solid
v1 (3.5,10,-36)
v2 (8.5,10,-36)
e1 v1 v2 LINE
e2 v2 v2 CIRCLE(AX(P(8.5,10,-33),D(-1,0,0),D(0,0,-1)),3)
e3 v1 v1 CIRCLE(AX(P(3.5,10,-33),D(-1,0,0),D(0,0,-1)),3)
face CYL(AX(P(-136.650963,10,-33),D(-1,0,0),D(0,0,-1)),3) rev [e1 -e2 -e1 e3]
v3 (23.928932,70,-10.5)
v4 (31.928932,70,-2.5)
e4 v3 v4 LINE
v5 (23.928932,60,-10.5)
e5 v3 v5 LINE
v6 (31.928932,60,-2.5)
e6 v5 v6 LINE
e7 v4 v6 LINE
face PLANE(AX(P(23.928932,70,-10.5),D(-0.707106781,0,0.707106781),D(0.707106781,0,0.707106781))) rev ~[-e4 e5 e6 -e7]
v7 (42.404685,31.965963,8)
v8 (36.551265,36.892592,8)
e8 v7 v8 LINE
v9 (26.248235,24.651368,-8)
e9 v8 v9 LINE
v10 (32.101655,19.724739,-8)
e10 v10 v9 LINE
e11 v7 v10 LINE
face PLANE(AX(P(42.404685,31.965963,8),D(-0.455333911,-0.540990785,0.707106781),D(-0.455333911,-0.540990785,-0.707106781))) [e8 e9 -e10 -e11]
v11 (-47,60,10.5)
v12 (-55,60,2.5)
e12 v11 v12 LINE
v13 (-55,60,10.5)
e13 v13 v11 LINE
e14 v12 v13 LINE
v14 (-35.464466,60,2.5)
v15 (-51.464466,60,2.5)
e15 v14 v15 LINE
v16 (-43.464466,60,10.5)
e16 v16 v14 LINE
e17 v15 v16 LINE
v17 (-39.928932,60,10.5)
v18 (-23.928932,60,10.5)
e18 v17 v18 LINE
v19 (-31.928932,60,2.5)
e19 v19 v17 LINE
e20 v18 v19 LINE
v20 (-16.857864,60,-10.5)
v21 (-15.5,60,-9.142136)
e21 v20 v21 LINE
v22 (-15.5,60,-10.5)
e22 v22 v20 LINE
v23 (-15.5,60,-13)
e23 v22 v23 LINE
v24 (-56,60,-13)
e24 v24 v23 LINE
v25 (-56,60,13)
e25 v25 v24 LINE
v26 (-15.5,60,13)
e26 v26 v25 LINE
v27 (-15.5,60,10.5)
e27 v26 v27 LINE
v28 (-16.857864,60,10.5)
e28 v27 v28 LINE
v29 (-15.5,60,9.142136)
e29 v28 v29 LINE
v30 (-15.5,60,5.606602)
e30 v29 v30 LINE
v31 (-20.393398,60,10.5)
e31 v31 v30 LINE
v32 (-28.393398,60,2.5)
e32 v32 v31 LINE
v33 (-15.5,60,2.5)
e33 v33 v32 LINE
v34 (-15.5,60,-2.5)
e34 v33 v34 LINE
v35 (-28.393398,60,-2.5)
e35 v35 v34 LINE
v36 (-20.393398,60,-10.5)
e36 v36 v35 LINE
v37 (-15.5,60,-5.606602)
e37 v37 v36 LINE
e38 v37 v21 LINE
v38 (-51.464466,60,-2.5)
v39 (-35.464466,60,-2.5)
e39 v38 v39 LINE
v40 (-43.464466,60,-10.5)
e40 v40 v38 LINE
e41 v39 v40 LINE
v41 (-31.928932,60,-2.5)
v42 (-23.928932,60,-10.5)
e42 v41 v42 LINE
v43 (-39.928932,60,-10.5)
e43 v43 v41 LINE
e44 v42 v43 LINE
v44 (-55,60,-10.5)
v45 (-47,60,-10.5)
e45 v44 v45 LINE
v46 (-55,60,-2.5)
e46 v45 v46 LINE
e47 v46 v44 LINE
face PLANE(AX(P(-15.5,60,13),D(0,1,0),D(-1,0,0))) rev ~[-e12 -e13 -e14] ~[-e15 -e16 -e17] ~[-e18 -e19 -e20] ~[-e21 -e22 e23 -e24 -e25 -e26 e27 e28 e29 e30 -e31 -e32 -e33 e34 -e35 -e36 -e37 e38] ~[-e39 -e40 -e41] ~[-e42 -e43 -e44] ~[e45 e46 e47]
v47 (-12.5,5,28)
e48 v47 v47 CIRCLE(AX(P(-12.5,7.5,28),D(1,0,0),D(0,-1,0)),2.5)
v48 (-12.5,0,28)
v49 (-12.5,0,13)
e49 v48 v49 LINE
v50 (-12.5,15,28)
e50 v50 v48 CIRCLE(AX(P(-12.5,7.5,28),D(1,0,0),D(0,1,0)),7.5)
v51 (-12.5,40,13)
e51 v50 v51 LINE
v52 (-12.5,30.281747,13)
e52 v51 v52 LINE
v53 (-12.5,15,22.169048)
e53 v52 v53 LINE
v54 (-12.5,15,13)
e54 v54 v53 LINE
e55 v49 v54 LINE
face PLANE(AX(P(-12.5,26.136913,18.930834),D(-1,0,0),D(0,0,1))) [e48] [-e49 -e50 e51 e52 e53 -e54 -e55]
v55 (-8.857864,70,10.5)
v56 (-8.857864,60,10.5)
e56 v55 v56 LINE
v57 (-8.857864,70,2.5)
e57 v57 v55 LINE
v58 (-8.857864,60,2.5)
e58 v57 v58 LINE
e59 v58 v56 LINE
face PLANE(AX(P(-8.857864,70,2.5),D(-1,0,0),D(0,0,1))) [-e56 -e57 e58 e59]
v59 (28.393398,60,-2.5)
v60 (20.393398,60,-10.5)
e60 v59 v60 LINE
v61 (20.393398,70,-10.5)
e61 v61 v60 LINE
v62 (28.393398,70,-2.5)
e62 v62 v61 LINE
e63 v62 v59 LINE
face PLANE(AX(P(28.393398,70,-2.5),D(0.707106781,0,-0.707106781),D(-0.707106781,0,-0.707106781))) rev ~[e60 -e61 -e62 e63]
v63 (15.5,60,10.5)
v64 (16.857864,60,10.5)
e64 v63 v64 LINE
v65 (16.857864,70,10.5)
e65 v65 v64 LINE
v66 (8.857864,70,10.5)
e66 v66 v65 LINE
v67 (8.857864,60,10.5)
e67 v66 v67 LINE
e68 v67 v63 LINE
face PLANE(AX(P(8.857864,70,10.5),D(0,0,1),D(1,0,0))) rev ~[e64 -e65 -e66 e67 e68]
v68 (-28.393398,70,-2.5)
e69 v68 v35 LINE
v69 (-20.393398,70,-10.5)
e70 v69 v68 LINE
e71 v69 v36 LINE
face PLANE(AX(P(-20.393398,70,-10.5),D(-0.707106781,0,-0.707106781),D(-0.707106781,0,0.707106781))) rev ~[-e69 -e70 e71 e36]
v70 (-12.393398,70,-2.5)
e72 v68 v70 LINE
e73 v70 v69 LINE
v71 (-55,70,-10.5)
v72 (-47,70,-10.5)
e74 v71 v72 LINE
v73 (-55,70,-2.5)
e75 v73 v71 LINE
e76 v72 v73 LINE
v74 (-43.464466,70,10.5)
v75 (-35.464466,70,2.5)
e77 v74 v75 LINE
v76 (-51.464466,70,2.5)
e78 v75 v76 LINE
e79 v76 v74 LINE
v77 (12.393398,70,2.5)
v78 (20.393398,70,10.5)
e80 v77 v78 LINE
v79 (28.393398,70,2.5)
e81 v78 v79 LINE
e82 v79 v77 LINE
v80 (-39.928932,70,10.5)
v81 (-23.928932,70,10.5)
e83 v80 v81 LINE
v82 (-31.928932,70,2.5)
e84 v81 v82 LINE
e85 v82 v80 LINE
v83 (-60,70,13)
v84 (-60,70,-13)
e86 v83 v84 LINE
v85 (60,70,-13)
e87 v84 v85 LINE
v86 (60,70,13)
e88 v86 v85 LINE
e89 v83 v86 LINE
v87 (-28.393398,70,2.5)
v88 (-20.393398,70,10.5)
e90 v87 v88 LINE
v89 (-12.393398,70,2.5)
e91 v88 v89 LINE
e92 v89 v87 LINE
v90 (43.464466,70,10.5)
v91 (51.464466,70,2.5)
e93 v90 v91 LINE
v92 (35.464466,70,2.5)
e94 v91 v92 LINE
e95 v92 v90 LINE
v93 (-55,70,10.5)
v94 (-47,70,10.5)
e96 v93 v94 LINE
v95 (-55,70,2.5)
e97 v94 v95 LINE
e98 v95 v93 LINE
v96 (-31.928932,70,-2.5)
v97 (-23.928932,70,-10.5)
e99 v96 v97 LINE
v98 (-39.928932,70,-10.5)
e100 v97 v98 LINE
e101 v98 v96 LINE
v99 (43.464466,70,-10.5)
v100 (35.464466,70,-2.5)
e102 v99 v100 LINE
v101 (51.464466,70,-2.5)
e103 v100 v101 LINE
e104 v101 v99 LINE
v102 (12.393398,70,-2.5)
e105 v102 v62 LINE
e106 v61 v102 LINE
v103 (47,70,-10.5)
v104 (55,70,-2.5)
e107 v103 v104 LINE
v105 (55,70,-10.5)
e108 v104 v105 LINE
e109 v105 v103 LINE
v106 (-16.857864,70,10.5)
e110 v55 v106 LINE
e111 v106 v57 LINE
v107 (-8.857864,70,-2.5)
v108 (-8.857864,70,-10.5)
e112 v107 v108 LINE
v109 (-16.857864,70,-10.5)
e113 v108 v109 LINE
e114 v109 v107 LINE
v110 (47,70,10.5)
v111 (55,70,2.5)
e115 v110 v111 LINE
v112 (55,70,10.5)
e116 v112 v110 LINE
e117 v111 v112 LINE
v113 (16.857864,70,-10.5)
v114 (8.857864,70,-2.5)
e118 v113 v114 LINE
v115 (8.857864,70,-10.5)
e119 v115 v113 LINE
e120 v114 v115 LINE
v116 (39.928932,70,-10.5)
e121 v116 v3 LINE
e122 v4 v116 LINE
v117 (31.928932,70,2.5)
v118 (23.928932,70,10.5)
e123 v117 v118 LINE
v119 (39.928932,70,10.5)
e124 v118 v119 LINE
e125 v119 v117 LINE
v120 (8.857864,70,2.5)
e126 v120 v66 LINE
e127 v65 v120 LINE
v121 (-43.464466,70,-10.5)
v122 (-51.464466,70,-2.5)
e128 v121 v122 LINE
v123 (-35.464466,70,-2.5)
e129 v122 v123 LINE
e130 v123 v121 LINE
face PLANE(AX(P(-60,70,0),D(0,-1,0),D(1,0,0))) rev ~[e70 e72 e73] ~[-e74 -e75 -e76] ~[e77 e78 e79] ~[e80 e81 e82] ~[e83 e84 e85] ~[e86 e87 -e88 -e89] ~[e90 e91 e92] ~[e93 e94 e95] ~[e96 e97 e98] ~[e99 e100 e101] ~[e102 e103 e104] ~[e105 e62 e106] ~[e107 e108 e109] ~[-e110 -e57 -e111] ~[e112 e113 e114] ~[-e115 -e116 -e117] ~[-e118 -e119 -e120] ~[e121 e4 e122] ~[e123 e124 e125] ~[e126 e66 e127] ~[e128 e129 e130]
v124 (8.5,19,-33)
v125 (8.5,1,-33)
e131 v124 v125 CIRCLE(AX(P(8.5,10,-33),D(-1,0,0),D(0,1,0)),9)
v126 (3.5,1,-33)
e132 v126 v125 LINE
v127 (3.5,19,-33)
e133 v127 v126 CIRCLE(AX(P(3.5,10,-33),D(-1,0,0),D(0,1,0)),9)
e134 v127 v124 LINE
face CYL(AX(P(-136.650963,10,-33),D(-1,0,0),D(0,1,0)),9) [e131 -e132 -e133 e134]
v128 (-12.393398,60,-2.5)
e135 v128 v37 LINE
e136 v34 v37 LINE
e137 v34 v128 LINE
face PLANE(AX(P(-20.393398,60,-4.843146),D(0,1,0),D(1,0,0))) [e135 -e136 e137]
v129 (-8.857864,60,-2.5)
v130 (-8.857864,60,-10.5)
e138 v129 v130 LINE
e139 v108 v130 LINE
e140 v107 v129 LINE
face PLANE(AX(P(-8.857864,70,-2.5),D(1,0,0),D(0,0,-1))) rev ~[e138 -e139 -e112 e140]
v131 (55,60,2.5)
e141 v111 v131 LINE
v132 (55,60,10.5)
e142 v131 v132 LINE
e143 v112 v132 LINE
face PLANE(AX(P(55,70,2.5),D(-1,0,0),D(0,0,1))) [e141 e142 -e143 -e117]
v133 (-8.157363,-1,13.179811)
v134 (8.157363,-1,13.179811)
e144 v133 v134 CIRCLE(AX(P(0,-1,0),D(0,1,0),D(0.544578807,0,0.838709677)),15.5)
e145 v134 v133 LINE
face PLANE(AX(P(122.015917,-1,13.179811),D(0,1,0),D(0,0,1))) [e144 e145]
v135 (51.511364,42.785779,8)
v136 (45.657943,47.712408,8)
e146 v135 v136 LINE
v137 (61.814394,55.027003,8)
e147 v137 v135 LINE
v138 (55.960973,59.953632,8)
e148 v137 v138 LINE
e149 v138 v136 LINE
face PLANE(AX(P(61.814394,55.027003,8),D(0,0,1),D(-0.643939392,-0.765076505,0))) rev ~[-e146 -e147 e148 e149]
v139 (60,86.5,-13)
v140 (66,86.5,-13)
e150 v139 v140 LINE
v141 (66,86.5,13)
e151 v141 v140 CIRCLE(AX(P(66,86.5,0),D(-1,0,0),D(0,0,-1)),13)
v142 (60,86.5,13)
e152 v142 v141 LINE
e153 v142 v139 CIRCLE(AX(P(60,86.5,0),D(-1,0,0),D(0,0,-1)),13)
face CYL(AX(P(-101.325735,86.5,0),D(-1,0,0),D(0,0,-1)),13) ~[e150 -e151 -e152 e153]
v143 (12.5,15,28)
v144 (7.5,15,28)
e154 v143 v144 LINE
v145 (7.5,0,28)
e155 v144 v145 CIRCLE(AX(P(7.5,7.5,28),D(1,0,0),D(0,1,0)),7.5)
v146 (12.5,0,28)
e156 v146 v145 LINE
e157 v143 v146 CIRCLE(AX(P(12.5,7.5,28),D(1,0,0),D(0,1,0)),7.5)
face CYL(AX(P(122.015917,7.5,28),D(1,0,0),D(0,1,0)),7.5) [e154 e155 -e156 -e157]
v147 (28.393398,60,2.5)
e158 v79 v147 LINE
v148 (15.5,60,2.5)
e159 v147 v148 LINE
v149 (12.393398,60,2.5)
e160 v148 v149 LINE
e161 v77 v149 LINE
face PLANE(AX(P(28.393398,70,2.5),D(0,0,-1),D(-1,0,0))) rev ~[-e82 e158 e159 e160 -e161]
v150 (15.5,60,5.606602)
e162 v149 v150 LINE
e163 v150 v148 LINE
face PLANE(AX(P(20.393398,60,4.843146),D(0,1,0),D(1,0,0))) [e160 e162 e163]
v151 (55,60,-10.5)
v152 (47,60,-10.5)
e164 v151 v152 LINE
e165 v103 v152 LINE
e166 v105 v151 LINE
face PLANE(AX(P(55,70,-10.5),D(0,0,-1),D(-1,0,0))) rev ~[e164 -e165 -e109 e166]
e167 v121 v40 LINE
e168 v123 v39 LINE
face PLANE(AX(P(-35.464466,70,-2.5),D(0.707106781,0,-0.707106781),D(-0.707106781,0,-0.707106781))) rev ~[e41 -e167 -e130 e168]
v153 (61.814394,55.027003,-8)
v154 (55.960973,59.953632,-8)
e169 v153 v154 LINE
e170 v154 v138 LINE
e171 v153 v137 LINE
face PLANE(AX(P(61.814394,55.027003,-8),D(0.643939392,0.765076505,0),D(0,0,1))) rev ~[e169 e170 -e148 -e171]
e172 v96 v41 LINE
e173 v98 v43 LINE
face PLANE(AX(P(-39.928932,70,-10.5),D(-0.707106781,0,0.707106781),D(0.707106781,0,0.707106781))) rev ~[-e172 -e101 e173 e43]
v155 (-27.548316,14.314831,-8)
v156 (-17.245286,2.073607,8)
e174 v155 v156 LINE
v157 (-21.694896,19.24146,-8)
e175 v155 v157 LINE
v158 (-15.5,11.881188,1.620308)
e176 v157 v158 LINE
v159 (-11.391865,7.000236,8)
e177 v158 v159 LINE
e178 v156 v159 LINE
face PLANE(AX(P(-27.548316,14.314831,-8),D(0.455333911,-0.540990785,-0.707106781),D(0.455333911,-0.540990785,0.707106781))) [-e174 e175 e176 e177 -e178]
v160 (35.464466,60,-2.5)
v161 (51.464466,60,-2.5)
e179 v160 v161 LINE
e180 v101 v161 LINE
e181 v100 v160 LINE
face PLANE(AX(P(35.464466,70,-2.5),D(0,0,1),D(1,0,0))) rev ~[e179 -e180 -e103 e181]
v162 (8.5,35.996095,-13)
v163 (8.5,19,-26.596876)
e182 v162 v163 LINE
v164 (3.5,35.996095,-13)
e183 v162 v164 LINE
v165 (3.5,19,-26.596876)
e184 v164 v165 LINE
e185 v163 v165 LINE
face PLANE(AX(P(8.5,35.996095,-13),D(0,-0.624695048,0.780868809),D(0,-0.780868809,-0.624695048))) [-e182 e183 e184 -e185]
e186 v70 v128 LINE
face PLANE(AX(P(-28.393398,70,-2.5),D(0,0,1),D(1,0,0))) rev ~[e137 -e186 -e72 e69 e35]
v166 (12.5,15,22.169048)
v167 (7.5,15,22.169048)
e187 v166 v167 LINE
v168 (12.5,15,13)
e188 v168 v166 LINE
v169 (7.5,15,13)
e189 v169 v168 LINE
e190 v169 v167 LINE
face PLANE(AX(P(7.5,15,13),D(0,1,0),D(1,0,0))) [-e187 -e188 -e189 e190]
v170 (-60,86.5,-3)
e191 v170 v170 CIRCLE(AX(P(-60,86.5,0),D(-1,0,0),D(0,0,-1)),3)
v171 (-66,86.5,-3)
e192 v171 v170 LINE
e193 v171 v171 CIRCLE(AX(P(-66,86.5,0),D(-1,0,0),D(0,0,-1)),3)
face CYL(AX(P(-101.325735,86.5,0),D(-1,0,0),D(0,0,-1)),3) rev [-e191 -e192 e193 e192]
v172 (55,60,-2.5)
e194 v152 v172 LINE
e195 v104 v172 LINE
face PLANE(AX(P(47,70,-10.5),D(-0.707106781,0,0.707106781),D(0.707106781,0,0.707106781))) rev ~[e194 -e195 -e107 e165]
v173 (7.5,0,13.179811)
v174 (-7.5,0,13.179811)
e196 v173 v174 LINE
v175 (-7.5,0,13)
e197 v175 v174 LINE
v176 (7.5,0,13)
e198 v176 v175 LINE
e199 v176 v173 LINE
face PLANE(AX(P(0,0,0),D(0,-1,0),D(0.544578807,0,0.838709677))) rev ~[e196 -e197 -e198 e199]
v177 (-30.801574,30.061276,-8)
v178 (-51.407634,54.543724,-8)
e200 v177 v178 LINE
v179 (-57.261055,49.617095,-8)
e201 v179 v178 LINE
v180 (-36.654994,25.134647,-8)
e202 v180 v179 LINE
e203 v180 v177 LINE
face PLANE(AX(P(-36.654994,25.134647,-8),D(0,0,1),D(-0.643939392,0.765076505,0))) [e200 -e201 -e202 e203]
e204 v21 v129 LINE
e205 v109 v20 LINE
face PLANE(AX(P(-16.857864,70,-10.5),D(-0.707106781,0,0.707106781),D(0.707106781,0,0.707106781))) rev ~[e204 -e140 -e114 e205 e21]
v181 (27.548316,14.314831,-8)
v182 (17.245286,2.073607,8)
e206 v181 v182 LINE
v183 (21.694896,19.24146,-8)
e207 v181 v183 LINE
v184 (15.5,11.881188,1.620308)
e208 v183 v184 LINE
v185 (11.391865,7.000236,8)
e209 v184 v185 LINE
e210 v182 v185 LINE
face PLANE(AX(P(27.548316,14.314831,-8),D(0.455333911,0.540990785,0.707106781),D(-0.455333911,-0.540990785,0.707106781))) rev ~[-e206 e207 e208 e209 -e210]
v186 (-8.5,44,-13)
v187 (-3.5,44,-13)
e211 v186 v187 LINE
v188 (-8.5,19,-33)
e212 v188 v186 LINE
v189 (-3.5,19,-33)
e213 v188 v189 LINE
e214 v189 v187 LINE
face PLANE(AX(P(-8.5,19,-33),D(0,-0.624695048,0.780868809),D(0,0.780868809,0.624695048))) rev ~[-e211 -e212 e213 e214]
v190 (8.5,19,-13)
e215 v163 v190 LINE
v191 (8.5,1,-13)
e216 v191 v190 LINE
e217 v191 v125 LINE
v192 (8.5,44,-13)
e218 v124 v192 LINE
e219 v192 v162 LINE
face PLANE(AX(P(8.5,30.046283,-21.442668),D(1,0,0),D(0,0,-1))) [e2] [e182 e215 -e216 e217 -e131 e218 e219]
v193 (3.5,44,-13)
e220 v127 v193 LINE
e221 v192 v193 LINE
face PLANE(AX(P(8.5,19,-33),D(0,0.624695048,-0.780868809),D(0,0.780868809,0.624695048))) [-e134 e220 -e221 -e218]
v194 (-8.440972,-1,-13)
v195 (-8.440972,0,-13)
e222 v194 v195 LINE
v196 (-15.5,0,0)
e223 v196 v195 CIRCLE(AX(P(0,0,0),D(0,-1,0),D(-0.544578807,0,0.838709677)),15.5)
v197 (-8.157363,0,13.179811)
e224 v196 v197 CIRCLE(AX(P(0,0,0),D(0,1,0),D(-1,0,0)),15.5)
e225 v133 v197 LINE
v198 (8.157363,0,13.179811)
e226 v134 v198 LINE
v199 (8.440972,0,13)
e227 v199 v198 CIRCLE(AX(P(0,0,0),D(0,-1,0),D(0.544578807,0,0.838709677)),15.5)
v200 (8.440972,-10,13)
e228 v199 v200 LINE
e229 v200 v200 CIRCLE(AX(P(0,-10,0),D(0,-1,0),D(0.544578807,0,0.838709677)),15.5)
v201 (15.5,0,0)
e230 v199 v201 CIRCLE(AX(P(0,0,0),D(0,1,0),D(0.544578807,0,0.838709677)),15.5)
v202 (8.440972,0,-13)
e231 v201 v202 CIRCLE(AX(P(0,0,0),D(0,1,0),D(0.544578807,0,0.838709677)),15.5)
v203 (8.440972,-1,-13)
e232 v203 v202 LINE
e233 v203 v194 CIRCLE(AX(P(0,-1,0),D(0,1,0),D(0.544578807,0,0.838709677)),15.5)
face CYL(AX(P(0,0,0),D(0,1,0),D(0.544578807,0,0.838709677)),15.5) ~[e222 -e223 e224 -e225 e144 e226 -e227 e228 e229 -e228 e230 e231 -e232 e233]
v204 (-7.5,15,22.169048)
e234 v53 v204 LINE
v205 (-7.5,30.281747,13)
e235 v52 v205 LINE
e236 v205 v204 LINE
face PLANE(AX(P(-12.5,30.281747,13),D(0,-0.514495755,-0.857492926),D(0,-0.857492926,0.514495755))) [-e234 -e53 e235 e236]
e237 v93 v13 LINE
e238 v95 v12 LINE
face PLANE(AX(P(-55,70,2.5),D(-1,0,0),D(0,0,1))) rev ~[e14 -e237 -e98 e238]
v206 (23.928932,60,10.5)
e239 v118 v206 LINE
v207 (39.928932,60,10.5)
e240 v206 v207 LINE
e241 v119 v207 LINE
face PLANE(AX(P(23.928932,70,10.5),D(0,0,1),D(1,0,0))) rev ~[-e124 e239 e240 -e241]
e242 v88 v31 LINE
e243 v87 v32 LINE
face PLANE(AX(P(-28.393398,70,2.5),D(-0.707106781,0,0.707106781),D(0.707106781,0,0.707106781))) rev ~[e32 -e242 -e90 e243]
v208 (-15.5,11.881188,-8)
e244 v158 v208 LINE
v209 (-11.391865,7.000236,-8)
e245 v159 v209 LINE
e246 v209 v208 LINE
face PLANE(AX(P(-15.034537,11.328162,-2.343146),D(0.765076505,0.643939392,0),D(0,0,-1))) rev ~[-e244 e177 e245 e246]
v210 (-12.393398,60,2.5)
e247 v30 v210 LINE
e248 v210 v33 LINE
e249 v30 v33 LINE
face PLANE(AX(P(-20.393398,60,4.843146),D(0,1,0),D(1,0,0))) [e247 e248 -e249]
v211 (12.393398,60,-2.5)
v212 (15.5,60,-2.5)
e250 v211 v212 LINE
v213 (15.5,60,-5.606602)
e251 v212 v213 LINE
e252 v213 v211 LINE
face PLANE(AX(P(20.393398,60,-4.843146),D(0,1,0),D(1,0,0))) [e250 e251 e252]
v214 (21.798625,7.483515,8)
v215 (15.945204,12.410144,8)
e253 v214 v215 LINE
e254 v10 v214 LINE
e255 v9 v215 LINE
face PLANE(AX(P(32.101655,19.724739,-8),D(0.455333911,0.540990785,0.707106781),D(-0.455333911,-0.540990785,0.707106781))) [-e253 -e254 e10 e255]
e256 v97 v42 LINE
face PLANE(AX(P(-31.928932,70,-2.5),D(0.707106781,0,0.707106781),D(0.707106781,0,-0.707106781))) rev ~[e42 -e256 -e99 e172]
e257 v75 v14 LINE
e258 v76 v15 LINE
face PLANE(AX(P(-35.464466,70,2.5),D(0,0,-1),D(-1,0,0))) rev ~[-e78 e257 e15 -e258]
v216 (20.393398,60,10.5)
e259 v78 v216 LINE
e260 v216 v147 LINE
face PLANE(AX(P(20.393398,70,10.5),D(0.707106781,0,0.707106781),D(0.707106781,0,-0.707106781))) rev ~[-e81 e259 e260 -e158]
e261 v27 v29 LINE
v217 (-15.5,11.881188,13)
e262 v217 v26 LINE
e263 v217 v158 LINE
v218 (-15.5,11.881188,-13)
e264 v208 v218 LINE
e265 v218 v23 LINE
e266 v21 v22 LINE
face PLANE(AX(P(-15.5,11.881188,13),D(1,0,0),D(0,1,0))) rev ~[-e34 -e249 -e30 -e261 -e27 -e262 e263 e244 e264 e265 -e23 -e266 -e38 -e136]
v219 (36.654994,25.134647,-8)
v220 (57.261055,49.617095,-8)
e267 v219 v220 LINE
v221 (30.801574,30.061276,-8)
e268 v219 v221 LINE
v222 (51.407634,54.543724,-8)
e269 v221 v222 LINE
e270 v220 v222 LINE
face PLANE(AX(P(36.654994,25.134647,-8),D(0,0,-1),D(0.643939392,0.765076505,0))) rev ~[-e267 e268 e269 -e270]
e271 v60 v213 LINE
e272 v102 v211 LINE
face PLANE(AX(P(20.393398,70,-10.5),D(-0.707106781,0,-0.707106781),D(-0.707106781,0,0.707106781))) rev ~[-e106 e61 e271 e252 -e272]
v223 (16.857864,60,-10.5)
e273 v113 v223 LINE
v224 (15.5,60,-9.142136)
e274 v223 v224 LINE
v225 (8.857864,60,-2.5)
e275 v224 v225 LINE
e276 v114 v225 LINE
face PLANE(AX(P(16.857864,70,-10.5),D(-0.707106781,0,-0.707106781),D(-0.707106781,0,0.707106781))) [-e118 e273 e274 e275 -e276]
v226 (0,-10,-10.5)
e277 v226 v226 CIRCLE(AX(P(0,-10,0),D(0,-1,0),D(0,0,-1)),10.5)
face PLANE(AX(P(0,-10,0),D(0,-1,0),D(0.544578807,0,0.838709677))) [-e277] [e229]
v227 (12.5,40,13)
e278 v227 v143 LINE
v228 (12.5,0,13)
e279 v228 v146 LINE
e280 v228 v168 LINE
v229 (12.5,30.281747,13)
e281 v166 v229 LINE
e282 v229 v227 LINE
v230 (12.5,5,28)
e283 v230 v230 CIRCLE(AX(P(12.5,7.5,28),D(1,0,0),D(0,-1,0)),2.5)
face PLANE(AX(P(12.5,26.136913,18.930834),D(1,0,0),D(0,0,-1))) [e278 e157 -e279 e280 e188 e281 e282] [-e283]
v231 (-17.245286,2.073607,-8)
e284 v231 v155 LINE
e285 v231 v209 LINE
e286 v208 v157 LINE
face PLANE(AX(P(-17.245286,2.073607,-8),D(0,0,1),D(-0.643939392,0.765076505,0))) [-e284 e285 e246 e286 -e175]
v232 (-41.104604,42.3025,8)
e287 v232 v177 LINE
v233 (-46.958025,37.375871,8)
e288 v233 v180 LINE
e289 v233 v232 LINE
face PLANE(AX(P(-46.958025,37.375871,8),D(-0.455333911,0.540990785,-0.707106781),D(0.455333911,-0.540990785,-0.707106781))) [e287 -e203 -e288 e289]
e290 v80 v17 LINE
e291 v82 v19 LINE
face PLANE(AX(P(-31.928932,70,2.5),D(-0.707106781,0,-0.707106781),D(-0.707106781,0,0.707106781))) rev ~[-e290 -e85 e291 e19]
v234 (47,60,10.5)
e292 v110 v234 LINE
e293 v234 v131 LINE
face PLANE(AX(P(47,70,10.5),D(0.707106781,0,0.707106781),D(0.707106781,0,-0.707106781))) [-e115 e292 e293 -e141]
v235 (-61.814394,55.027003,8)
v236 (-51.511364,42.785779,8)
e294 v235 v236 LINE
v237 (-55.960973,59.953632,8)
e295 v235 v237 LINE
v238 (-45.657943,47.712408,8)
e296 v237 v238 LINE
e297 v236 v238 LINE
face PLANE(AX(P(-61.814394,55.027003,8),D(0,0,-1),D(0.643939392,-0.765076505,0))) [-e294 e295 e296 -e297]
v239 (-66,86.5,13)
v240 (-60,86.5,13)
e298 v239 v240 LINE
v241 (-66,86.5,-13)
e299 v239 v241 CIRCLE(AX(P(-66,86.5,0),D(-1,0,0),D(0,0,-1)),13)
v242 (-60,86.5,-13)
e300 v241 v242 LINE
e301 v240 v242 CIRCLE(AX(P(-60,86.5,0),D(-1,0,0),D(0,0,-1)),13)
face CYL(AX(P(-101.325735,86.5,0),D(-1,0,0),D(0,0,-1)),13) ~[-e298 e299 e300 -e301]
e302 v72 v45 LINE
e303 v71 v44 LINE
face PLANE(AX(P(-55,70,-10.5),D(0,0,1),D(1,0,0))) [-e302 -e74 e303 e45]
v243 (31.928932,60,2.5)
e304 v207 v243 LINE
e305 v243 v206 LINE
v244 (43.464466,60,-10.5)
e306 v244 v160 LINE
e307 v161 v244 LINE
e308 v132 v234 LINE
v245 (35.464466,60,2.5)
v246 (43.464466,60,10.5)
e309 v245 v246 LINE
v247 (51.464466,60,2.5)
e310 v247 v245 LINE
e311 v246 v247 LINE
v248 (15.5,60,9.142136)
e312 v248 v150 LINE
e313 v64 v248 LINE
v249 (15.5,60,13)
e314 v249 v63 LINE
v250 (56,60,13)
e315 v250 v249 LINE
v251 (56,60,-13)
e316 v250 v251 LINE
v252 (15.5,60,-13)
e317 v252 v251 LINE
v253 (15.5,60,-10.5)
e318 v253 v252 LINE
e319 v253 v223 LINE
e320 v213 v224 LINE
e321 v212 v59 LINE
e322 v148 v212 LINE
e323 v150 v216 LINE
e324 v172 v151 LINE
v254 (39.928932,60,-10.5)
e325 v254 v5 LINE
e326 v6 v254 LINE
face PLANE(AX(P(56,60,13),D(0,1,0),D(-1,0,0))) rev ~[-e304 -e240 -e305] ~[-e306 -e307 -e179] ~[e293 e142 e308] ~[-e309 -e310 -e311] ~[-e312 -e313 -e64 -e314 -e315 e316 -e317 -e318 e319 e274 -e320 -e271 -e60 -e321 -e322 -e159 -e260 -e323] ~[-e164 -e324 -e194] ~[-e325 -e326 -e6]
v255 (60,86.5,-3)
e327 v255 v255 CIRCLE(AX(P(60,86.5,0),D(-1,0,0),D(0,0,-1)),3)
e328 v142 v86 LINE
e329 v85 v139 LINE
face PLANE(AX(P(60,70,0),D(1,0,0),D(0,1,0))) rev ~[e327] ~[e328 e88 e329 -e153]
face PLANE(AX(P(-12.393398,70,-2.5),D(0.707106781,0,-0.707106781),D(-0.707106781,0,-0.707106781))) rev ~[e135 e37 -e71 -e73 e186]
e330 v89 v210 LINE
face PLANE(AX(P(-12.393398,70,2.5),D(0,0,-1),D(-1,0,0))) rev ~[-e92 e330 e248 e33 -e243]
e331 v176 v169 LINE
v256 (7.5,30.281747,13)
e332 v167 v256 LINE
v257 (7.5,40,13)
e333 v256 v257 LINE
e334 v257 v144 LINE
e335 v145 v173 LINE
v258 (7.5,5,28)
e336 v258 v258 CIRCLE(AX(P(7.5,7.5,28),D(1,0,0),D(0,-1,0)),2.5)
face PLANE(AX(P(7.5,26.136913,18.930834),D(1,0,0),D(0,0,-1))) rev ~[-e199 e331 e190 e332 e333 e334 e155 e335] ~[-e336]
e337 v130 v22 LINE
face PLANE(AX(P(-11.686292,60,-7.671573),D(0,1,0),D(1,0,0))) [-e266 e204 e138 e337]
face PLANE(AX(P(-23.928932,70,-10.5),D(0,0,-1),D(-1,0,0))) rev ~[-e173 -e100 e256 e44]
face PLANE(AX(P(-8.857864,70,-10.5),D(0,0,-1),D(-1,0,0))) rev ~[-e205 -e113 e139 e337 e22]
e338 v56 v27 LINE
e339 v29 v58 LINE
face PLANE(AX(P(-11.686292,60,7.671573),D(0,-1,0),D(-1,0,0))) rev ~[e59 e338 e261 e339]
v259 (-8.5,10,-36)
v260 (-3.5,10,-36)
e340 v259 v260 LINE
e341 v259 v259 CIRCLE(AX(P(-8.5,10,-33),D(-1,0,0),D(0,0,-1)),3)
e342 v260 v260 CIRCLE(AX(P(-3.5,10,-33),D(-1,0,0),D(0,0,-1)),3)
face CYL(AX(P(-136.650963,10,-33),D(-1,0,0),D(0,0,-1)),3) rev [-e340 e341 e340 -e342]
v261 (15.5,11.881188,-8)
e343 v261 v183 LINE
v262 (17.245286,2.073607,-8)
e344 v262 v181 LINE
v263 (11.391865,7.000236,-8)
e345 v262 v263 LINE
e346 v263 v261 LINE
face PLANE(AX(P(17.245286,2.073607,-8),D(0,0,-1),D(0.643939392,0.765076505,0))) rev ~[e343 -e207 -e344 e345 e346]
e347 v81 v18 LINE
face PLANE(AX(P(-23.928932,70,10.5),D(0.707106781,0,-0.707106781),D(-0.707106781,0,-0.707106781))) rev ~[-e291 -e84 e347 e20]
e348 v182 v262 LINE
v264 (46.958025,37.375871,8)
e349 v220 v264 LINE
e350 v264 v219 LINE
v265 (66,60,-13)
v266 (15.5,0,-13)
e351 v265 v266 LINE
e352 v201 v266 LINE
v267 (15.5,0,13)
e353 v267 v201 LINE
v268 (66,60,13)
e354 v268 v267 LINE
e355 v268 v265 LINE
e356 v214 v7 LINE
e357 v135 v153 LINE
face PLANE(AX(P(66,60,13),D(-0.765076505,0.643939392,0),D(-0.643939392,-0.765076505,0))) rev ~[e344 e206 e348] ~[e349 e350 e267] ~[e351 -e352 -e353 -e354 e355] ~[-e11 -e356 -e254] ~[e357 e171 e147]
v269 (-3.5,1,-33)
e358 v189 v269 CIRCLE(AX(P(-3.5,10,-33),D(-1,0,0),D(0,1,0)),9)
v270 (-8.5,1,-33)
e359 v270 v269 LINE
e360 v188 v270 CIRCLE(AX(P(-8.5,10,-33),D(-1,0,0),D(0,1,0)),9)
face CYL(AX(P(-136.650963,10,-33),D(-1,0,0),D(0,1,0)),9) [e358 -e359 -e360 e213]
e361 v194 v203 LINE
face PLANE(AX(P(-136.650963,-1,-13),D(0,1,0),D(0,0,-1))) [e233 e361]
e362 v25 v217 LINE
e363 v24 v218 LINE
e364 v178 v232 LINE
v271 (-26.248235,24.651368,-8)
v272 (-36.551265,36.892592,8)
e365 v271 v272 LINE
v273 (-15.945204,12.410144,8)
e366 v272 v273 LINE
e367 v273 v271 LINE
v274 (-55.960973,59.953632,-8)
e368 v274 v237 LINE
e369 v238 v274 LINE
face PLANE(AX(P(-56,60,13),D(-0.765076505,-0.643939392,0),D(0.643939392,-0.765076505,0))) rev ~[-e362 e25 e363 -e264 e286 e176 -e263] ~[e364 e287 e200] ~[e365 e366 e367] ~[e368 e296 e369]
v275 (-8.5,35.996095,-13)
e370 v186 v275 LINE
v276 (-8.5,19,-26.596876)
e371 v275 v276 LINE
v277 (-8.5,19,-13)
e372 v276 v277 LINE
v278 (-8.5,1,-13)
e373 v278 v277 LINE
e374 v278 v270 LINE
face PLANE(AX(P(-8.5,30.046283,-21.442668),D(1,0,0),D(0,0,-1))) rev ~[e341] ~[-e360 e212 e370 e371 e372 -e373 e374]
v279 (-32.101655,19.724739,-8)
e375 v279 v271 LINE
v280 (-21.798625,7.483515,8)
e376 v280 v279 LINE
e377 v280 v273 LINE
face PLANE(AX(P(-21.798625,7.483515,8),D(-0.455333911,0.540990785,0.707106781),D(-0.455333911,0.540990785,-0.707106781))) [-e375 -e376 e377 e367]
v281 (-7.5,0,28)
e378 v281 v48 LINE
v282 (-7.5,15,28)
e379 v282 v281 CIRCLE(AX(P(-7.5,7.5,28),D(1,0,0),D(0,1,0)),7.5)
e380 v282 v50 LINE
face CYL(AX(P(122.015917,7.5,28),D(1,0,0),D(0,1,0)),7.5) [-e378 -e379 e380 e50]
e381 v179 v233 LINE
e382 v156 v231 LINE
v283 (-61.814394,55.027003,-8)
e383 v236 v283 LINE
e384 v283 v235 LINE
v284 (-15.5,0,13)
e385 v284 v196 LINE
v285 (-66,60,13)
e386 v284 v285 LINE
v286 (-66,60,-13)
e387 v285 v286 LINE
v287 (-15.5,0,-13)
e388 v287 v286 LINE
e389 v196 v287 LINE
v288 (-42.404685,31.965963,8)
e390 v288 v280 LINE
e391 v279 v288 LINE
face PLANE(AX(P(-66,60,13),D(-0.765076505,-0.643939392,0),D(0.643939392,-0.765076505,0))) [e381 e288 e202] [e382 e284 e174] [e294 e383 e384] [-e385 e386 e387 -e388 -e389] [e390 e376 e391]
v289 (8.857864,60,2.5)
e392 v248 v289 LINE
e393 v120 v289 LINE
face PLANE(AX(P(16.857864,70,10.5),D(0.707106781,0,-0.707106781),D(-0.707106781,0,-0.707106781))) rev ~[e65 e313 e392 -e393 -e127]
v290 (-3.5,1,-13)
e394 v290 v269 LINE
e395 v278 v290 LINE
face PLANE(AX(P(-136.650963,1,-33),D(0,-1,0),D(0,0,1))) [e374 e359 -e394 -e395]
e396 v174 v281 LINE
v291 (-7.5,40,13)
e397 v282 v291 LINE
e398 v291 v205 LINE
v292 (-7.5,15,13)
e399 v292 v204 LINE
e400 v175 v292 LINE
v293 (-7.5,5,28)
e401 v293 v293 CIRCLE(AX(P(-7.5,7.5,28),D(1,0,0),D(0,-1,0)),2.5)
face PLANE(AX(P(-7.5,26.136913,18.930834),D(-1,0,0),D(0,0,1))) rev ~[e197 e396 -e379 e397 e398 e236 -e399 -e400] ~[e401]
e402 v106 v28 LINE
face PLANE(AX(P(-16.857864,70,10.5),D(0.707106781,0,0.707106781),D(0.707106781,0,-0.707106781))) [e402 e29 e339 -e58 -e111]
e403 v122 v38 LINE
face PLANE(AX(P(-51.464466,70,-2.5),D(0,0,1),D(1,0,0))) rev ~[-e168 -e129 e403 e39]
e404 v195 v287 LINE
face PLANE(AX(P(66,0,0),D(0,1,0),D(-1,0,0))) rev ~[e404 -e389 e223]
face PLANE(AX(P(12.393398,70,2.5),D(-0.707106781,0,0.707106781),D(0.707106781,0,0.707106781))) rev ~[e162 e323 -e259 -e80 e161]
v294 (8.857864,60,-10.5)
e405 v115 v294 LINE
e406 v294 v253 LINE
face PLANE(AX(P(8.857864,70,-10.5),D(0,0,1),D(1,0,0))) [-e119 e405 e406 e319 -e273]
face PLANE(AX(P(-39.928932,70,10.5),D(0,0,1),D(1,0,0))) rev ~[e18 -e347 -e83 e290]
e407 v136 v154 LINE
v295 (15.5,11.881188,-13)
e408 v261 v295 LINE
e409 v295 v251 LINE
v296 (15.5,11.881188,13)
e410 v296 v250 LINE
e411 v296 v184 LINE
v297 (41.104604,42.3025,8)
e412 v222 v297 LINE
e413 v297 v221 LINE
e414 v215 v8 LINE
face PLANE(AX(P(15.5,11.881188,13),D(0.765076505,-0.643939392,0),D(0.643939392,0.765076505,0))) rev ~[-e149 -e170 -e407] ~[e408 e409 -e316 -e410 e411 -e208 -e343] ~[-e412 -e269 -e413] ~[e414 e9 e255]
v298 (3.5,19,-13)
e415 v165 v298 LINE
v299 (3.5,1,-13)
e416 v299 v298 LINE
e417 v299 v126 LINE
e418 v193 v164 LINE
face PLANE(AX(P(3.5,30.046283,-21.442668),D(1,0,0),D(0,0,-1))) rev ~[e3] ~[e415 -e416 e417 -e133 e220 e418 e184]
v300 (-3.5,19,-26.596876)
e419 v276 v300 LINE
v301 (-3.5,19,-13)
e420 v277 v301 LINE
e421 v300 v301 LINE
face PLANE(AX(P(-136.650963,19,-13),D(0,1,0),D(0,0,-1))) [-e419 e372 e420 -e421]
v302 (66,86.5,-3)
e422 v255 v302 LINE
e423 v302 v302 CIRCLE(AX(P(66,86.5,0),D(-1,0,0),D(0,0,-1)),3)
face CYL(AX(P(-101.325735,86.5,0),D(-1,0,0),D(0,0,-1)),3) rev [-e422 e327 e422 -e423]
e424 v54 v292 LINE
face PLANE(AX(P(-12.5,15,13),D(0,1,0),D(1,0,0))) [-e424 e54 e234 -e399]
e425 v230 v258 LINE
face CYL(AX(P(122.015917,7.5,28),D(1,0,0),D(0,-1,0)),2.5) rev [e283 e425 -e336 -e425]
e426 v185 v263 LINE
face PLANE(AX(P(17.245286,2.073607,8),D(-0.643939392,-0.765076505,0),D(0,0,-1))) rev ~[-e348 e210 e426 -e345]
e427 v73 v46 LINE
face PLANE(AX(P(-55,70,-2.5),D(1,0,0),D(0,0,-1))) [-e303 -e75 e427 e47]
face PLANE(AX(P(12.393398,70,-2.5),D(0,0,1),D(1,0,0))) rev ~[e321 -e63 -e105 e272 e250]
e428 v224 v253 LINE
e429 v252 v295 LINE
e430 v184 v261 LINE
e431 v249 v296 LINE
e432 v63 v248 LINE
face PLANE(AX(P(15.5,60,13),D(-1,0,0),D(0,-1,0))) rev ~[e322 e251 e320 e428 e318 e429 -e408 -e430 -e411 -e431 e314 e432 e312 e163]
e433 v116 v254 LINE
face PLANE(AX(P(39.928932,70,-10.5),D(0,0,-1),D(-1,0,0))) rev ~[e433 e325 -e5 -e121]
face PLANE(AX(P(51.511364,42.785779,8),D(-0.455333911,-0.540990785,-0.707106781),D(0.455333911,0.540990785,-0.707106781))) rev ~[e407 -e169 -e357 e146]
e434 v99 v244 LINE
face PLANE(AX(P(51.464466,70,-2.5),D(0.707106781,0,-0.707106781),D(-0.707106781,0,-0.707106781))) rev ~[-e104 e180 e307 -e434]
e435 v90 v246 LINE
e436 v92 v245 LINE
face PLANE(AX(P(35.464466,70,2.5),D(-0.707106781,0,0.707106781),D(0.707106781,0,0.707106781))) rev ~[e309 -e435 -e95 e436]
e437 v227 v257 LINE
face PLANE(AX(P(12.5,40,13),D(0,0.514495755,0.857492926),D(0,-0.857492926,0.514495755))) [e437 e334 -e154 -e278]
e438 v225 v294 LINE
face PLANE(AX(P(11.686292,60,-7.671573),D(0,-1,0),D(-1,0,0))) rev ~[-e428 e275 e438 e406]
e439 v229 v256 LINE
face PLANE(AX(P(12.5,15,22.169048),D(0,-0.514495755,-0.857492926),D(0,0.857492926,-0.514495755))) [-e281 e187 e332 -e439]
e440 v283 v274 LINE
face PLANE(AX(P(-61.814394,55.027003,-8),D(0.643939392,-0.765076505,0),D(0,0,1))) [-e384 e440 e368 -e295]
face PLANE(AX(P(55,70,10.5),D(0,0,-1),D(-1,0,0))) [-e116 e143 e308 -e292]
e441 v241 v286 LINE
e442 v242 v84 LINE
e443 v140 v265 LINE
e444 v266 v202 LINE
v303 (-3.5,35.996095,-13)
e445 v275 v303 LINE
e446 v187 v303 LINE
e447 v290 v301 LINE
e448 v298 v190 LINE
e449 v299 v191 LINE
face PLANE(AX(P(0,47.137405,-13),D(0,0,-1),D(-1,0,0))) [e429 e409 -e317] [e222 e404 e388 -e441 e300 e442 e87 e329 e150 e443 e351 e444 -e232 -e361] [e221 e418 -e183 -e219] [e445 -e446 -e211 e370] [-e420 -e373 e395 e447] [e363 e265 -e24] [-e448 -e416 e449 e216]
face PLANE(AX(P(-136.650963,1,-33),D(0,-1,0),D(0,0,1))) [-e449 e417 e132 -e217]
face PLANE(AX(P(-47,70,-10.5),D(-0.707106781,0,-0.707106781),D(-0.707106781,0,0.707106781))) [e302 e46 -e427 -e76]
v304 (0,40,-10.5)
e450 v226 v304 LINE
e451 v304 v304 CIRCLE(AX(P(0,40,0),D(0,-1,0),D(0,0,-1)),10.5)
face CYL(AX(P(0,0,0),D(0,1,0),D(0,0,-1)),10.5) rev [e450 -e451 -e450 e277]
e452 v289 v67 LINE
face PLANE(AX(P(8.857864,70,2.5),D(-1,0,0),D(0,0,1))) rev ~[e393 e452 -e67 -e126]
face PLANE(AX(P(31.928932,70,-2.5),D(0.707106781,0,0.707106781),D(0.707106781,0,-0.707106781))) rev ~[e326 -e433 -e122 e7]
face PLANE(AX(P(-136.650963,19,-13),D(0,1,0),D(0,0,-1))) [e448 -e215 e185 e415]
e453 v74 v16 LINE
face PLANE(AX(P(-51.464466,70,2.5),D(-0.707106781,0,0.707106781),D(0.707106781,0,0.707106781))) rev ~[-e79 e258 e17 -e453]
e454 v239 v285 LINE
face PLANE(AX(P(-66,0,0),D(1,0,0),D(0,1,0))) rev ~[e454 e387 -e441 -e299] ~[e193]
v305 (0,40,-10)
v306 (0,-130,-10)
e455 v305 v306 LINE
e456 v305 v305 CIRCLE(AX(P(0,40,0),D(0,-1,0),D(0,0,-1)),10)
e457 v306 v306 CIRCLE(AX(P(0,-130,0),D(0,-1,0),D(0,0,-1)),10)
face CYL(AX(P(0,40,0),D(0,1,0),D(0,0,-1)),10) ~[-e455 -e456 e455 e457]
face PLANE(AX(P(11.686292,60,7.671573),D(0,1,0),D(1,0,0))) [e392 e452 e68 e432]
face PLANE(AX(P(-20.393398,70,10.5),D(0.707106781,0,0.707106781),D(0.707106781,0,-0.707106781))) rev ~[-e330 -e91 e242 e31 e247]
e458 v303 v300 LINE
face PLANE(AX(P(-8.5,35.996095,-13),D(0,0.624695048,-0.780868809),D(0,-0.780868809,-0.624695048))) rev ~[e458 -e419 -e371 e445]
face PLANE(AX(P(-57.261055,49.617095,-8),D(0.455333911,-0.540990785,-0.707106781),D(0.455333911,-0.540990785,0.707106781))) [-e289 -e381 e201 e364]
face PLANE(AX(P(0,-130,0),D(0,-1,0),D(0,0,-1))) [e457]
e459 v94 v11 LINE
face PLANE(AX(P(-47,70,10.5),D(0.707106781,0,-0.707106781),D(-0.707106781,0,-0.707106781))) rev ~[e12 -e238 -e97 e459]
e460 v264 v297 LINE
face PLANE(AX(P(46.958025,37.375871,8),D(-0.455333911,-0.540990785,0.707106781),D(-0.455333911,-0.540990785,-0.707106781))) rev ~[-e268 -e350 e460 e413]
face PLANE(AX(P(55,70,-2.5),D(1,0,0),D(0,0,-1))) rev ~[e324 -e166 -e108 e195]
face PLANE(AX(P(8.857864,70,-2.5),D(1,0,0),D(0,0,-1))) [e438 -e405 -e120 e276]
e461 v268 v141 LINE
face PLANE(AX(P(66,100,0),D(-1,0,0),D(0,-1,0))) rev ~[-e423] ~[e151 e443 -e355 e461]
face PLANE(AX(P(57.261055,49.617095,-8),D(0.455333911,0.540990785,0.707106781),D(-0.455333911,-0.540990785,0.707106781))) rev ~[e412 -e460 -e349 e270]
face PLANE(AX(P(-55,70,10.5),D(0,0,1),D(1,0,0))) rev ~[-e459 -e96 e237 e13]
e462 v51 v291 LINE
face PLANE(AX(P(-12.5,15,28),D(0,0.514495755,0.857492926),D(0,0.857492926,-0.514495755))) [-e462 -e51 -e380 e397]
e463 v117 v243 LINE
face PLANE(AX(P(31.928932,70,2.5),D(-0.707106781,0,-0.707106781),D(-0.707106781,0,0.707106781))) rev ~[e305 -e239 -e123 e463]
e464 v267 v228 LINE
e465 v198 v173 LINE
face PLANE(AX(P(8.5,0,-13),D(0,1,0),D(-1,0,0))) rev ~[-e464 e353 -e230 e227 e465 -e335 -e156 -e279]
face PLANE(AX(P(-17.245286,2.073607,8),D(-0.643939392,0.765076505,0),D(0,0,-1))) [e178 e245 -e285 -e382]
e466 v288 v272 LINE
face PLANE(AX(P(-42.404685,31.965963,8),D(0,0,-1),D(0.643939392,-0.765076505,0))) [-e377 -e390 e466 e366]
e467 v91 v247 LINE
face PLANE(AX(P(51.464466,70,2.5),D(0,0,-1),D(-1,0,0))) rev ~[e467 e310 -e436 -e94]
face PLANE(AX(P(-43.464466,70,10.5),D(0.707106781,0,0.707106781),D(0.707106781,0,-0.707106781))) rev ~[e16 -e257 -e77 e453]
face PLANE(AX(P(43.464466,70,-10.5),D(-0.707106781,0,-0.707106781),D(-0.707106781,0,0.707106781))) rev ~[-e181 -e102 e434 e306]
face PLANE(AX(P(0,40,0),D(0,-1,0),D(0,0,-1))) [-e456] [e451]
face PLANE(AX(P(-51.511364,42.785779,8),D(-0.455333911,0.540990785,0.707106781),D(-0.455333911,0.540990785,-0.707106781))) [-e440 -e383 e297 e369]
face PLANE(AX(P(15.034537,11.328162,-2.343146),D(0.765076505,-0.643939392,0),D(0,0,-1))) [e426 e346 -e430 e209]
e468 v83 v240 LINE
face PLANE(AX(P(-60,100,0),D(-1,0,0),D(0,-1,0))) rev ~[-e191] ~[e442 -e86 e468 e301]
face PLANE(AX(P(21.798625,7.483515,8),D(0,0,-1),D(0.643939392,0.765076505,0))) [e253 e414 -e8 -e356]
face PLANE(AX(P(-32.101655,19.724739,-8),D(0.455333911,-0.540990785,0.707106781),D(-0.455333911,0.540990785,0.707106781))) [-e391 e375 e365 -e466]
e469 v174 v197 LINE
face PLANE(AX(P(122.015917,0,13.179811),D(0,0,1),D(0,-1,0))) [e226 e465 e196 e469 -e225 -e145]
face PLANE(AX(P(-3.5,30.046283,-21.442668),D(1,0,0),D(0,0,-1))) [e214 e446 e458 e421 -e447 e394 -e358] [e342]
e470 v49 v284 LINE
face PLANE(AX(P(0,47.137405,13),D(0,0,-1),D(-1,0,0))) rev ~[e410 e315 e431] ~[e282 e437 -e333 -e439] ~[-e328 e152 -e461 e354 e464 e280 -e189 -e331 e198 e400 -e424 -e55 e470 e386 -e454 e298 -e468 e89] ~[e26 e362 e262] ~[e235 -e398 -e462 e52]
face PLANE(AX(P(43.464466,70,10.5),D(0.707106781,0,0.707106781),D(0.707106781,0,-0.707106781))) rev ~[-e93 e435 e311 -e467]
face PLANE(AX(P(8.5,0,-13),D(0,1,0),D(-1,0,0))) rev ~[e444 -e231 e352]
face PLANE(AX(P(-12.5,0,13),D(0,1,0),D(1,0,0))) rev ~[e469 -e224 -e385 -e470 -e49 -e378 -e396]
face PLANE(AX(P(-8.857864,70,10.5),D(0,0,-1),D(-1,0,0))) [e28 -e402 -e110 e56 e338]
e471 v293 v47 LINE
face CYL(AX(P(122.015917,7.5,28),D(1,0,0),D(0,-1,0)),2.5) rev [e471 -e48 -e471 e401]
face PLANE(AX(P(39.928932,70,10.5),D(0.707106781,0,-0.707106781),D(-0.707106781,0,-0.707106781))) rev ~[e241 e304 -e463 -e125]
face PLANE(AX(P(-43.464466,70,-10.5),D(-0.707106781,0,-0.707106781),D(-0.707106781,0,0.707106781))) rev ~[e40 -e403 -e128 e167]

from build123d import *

# Parameters (mm, degrees)
TYKKELSE_LEDDFESTER_OG_BREDDE_H_YDE_SELV_DEPTH = 13
SKETCH28_R                                     = 15.5
SKETCH28_R_2                                   = 10.5
HULL_TIL_L_RBEN_KARBONFIBERR_R_DEPTH           = 10
SKRUEHULL_LEDDFESTER_DEPTH                     = 167.325734629
SKRUEHULL_LEDDFESTER_DEPTH_BACK                = 167.325734629
SKETCH29_R                                     = 3
SKETCH33_W                                     = 5
SKETCH33_H                                     = 20
BREDDE_OG_AVSTAND_STEMPELENDE_DEPTH            = 60
CUT_EXTRUDE4_DEPTH                             = 148.147035308
SIDEM_NSTER_DEPTH                              = 7.650765
SIDEM_NSTER_2_DEPTH                            = 7.650765
UTVIDET_START                                  = -40
SKETCH44_R                                     = 10.5
UTVIDET_L_RBENHULL_INN_I_SELVE_KROPPEN_DEPTH   = 40
M_NSTER_TOPP_DEPTH                             = 10
STEMPELENDE_AV_ST_RSTE_SYLINDER_DEPTH          = 145.150962536
STEMPELENDE_AV_ST_RSTE_SYLINDER_DEPTH_BACK     = 145.150962536
ROD_ENDE_JUSTERE_LENGDEN_ALTS_FESTE_T_R        = 3
SKETCH39_W                                     = 5
SKETCH39_H                                     = 15
SYLINDERFESTE_SELVE_DEN_LILLE_SYLINDERE_DEPTH  = 25
ST_TTER_ST_RSTE_SYLINDER_1_DEPTH               = 5
ST_TTER_ST_RSTE_SYLINDER_2_DEPTH               = 5
SYLINDERFESTE_LITEN_SYLINDER_DEPTH             = 134.515916654
SYLINDERFESTE_LITEN_SYLINDER_DEPTH_BACK        = 134.515916654
SKETCH48_R                                     = 2.5
BOSS_EXTRUDE11_DEPTH                           = 5
BOSS_EXTRUDE12_DEPTH                           = 5
SKETCH51_R                                     = 10
TIL_ASSEMBLY_SLETT_F_R_PRINTING_DEPTH          = 170


with BuildPart() as part:
    # Sketch27 → Tykkelse leddfester og bredde/høyde selve modellen (new, symmetric)
    with BuildSketch(Plane.XY):
        Polygon((66, 0), (-66, 0), (-66, 100), (-60, 100), (-60, 70), (60, 70), (60, 100), (66, 100), align=None)
    extrude(amount=TYKKELSE_LEDDFESTER_OG_BREDDE_H_YDE_SELV_DEPTH, both=True)

    # Sketch28 → Hull til lårben/karbonfiberrør (add)
    with BuildSketch(Plane.XZ):
        with Locations(Location((0, 0, 0), (0, 0, 57.004114526))):
            Circle(SKETCH28_R)
        with Locations(Location((0, 0, 0), (0, 0, 270))):
            Circle(SKETCH28_R_2, mode=Mode.SUBTRACT)
    extrude(amount=HULL_TIL_L_RBEN_KARBONFIBERR_R_DEPTH)

    # Sketch29 → Skruehull leddfester (cut, two sides: drawn at the far end of the back side and taken through both)
    with BuildSketch(Plane(origin=(66, 0, 0), x_dir=(0, 0, -1), z_dir=(1, 0, 0)).offset(-SKRUEHULL_LEDDFESTER_DEPTH_BACK)):
        with Locations((0, 86.5)):
            Circle(SKETCH29_R)
        with BuildLine():
            Line((-13, 86.5), (-13, 71.5))
            Line((-13, 71.5), (-14, 71.5))
            Line((-14, 71.5), (-14, 101))
            Line((-14, 101), (0, 101))
            Line((0, 101), (14, 101))
            Line((14, 101), (14, 71.5))
            Line((14, 71.5), (13, 71.5))
            Line((13, 71.5), (13, 86.5))
            ThreePointArc((13, 86.5), (0, 99.5), (-13, 86.5))
        make_face()
    extrude(amount=SKRUEHULL_LEDDFESTER_DEPTH + SKRUEHULL_LEDDFESTER_DEPTH_BACK, mode=Mode.SUBTRACT)

    # Sketch33 → Bredde og avstand stempelende (add)
    with BuildSketch(Plane(origin=(0, 0, -13), x_dir=(-1, 0, 0), z_dir=(0, 0, -1))):
        with Locations((-6, 10)):
            Rectangle(SKETCH33_W, SKETCH33_H)
        with Locations((6, 10)):
            Rectangle(SKETCH33_W, SKETCH33_H)
    extrude(amount=BREDDE_OG_AVSTAND_STEMPELENDE_DEPTH)

    # Fasong (mønster på selve kroppen) → Cut-Extrude4 (cut, through all)
    with BuildSketch(Plane.XY.offset(13)):
        Polygon((-66, 60), (-15.5, 0), (-66, 0), align=None)
        Polygon((15.5, 0), (66, 0), (66, 60), align=None)
        Polygon((-56, 60), (-15.5, 11.881188119), (-15.5, 60), align=None)
        Polygon((56, 60), (15.5, 60), (15.5, 11.881188119), align=None)
    extrude(amount=-CUT_EXTRUDE4_DEPTH, mode=Mode.SUBTRACT)

    # Sketch40 → Sidemønster (cut)
    with BuildSketch(Plane(origin=(-9.072801919, -7.636274948, 0), x_dir=(0, 0, 1), z_dir=(-0.765076505498557, -0.6439393921279521, 0))):
        Polygon((-8, 81.90459021), (8, 81.90459021), (8, 65.90459021), align=None)
        Polygon((-8, 74.833522398), (8, 58.833522398), (-8, 42.833522398), align=None)
        Polygon((8, 19.762454587), (-8, 35.762454587), (8, 51.762454587), align=None)
        Polygon((-8, 28.691386775), (8, 12.691386775), (-8, 12.691386775), align=None)
    extrude(amount=-SIDEM_NSTER_DEPTH, mode=Mode.SUBTRACT)

    # Sketch42 → Sidemønster 2 (cut)
    with BuildSketch(Plane(origin=(9.072801919, -7.636274948, 0), x_dir=(0, 0, -1), z_dir=(0.765076505498557, -0.6439393921279521, 0))):
        Polygon((8, 81.90459021), (-8, 81.90459021), (-8, 65.90459021), align=None)
        Polygon((8, 74.833522398), (-8, 58.833522398), (8, 42.833522398), align=None)
        Polygon((-8, 51.762454587), (8, 35.762454587), (-8, 19.762454587), align=None)
        Polygon((8, 28.691386775), (-8, 12.691386775), (8, 12.691386775), align=None)
    extrude(amount=-SIDEM_NSTER_2_DEPTH, mode=Mode.SUBTRACT)

    # Sketch44 → Utvidet lårbenhull inn i selve kroppen (cut)
    with BuildSketch(Plane.XZ.offset(UTVIDET_START)):
        with Locations(Location((0, 0, 0), (0, 0, 270))):
            Circle(SKETCH44_R)
    extrude(amount=UTVIDET_L_RBENHULL_INN_I_SELVE_KROPPEN_DEPTH, mode=Mode.SUBTRACT)

    # Sketch45 → Mønster topp (cut)
    with BuildSketch(Plane(origin=(0, 70, 0), x_dir=(1, 0, 0), z_dir=(0, 1, 0))):
        Polygon((-39.928932188, 10.5), (-31.928932188, 2.5), (-23.928932188, 10.5), align=None)
        Polygon((-16.857864376, 10.5), (-8.857864376, 2.5), (-8.857864376, 10.5), align=None)
        Polygon((-55, 2.5), (-55, 10.5), (-47, 10.5), align=None)
        Polygon((-43.464466094, 10.5), (-51.464466094, 2.5), (-35.464466094, 2.5), align=None)
        Polygon((-20.393398282, 10.5), (-28.393398282, 2.5), (-12.393398282, 2.5), align=None)
        Polygon((-8.857864376, -2.5), (-8.857864376, -10.5), (-16.857864376, -10.5), align=None)
        Polygon((-20.393398282, -10.5), (-12.393398282, -2.5), (-28.393398282, -2.5), align=None)
        Polygon((-23.928932188, -10.5), (-31.928932188, -2.5), (-39.928932188, -10.5), align=None)
        Polygon((-43.464466094, -10.5), (-35.464466094, -2.5), (-51.464466094, -2.5), align=None)
        Polygon((-55, -10.5), (-47, -10.5), (-55, -2.5), align=None)
        Polygon((8.857864376, 2.5), (8.857864376, 10.5), (16.857864376, 10.5), align=None)
        Polygon((16.857864376, -10.5), (8.857864376, -2.5), (8.857864376, -10.5), align=None)
        Polygon((20.393398282, -10.5), (28.393398282, -2.5), (12.393398282, -2.5), align=None)
        Polygon((20.393398282, 10.5), (12.393398282, 2.5), (28.393398282, 2.5), align=None)
        Polygon((23.928932188, 10.5), (31.928932188, 2.5), (39.928932188, 10.5), align=None)
        Polygon((23.928932188, -10.5), (39.928932188, -10.5), (31.928932188, -2.5), align=None)
        Polygon((43.464466094, -10.5), (51.464466094, -2.5), (35.464466094, -2.5), align=None)
        Polygon((55, -2.5), (55, -10.5), (47, -10.5), align=None)
        Polygon((43.464466094, 10.5), (35.464466094, 2.5), (51.464466094, 2.5), align=None)
        Polygon((55, 10.5), (47, 10.5), (55, 2.5), align=None)
    extrude(amount=-M_NSTER_TOPP_DEPTH, mode=Mode.SUBTRACT)

    # Rod-ende, justere lengden (altså feste til største sylinder) → Stempelende av st_rste sylinder (cut, two sides: drawn at the far end of the back side and taken through both)
    with BuildSketch(Plane(origin=(8.5, 0, 0), x_dir=(0, 0, -1), z_dir=(1, 0, 0)).offset(-STEMPELENDE_AV_ST_RSTE_SYLINDER_DEPTH_BACK)):
        with Locations((33, 10)):
            Circle(ROD_ENDE_JUSTERE_LENGDEN_ALTS_FESTE_T_R)
        with BuildLine():
            Line((43, -1), (74, -1))
            Line((74, -1), (74, 21))
            Line((74, 21), (43, 21))
            Line((43, 21), (13, 21))
            Line((13, 21), (13, 19))
            Line((13, 19), (33, 19))
            ThreePointArc((33, 19), (42, 10), (33, 1))
            Line((33, 1), (13, 1))
            Line((13, 1), (13, -1))
            Line((13, -1), (43, -1))
        make_face()
    extrude(amount=STEMPELENDE_AV_ST_RSTE_SYLINDER_DEPTH + STEMPELENDE_AV_ST_RSTE_SYLINDER_DEPTH_BACK, mode=Mode.SUBTRACT)

    # Sketch39 → Sylinderfeste_ selve den lille sylindere (add)
    with BuildSketch(Plane.XY.offset(13)):
        with Locations((-10, 7.5)):
            Rectangle(SKETCH39_W, SKETCH39_H)
        with Locations((10, 7.5)):
            Rectangle(SKETCH39_W, SKETCH39_H)
    extrude(amount=SYLINDERFESTE_SELVE_DEN_LILLE_SYLINDERE_DEPTH)

    # Sketch46 → Støtter største sylinder 1 (add)
    with BuildSketch(Plane(origin=(8.5, 0, 0), x_dir=(0, 0, -1), z_dir=(1, 0, 0))):
        Polygon((13, 44), (13, 35.996094703), (26.596875763, 19), (33, 19), align=None)
    extrude(amount=-ST_TTER_ST_RSTE_SYLINDER_1_DEPTH)

    # Sketch47 → Støtter største sylinder 2 (add)
    with BuildSketch(Plane.ZY.offset(8.5)):
        Polygon((-33, 19), (-13, 44), (-13, 35.996094703), (-26.596875763, 19), align=None)
    extrude(amount=-ST_TTER_ST_RSTE_SYLINDER_2_DEPTH)

    # Sketch48 → Sylinderfeste, liten sylinder (cut, two sides: drawn at the far end of the back side and taken through both)
    with BuildSketch(Plane.ZY.offset(12.5).offset(-SYLINDERFESTE_LITEN_SYLINDER_DEPTH_BACK)):
        with Locations(Location((28, 7.5, 0), (0, 0, 270))):
            Circle(SKETCH48_R)
        with BuildLine():
            Line((28, 0), (13.179811187, 0))
            Line((13.179811187, 0), (13.179811187, -1))
            Line((13.179811187, -1), (39, -1))
            Line((39, -1), (39, 16))
            Line((39, 16), (13, 16))
            Line((13, 16), (13, 15))
            Line((13, 15), (28, 15))
            ThreePointArc((28, 15), (35.5, 7.5), (28, 0))
        make_face()
    extrude(amount=SYLINDERFESTE_LITEN_SYLINDER_DEPTH + SYLINDERFESTE_LITEN_SYLINDER_DEPTH_BACK, mode=Mode.SUBTRACT)

    # Sketch49 → Boss-Extrude11 (add)
    with BuildSketch(Plane.ZY.offset(12.5)):
        Polygon((28, 15), (13, 40), (13, 30.281746842), (22.169048105, 15), align=None)
    extrude(amount=-BOSS_EXTRUDE11_DEPTH)

    # Sketch50 → Boss-Extrude12 (add)
    with BuildSketch(Plane(origin=(12.5, 0, 0), x_dir=(0, 0, -1), z_dir=(1, 0, 0))):
        Polygon((-28, 15), (-22.169048105, 15), (-13, 30.281746842), (-13, 40), align=None)
    extrude(amount=-BOSS_EXTRUDE12_DEPTH)

    # Sketch51 → TIL ASSEMBLY - SLETT FØR PRINTING (add)
    with BuildSketch(Plane.XZ.offset(-40)):
        with Locations(Location((0, 0, 0), (0, 0, 270))):
            Circle(SKETCH51_R)
    extrude(amount=TIL_ASSEMBLY_SLETT_F_R_PRINTING_DEPTH)


solid = part.part
